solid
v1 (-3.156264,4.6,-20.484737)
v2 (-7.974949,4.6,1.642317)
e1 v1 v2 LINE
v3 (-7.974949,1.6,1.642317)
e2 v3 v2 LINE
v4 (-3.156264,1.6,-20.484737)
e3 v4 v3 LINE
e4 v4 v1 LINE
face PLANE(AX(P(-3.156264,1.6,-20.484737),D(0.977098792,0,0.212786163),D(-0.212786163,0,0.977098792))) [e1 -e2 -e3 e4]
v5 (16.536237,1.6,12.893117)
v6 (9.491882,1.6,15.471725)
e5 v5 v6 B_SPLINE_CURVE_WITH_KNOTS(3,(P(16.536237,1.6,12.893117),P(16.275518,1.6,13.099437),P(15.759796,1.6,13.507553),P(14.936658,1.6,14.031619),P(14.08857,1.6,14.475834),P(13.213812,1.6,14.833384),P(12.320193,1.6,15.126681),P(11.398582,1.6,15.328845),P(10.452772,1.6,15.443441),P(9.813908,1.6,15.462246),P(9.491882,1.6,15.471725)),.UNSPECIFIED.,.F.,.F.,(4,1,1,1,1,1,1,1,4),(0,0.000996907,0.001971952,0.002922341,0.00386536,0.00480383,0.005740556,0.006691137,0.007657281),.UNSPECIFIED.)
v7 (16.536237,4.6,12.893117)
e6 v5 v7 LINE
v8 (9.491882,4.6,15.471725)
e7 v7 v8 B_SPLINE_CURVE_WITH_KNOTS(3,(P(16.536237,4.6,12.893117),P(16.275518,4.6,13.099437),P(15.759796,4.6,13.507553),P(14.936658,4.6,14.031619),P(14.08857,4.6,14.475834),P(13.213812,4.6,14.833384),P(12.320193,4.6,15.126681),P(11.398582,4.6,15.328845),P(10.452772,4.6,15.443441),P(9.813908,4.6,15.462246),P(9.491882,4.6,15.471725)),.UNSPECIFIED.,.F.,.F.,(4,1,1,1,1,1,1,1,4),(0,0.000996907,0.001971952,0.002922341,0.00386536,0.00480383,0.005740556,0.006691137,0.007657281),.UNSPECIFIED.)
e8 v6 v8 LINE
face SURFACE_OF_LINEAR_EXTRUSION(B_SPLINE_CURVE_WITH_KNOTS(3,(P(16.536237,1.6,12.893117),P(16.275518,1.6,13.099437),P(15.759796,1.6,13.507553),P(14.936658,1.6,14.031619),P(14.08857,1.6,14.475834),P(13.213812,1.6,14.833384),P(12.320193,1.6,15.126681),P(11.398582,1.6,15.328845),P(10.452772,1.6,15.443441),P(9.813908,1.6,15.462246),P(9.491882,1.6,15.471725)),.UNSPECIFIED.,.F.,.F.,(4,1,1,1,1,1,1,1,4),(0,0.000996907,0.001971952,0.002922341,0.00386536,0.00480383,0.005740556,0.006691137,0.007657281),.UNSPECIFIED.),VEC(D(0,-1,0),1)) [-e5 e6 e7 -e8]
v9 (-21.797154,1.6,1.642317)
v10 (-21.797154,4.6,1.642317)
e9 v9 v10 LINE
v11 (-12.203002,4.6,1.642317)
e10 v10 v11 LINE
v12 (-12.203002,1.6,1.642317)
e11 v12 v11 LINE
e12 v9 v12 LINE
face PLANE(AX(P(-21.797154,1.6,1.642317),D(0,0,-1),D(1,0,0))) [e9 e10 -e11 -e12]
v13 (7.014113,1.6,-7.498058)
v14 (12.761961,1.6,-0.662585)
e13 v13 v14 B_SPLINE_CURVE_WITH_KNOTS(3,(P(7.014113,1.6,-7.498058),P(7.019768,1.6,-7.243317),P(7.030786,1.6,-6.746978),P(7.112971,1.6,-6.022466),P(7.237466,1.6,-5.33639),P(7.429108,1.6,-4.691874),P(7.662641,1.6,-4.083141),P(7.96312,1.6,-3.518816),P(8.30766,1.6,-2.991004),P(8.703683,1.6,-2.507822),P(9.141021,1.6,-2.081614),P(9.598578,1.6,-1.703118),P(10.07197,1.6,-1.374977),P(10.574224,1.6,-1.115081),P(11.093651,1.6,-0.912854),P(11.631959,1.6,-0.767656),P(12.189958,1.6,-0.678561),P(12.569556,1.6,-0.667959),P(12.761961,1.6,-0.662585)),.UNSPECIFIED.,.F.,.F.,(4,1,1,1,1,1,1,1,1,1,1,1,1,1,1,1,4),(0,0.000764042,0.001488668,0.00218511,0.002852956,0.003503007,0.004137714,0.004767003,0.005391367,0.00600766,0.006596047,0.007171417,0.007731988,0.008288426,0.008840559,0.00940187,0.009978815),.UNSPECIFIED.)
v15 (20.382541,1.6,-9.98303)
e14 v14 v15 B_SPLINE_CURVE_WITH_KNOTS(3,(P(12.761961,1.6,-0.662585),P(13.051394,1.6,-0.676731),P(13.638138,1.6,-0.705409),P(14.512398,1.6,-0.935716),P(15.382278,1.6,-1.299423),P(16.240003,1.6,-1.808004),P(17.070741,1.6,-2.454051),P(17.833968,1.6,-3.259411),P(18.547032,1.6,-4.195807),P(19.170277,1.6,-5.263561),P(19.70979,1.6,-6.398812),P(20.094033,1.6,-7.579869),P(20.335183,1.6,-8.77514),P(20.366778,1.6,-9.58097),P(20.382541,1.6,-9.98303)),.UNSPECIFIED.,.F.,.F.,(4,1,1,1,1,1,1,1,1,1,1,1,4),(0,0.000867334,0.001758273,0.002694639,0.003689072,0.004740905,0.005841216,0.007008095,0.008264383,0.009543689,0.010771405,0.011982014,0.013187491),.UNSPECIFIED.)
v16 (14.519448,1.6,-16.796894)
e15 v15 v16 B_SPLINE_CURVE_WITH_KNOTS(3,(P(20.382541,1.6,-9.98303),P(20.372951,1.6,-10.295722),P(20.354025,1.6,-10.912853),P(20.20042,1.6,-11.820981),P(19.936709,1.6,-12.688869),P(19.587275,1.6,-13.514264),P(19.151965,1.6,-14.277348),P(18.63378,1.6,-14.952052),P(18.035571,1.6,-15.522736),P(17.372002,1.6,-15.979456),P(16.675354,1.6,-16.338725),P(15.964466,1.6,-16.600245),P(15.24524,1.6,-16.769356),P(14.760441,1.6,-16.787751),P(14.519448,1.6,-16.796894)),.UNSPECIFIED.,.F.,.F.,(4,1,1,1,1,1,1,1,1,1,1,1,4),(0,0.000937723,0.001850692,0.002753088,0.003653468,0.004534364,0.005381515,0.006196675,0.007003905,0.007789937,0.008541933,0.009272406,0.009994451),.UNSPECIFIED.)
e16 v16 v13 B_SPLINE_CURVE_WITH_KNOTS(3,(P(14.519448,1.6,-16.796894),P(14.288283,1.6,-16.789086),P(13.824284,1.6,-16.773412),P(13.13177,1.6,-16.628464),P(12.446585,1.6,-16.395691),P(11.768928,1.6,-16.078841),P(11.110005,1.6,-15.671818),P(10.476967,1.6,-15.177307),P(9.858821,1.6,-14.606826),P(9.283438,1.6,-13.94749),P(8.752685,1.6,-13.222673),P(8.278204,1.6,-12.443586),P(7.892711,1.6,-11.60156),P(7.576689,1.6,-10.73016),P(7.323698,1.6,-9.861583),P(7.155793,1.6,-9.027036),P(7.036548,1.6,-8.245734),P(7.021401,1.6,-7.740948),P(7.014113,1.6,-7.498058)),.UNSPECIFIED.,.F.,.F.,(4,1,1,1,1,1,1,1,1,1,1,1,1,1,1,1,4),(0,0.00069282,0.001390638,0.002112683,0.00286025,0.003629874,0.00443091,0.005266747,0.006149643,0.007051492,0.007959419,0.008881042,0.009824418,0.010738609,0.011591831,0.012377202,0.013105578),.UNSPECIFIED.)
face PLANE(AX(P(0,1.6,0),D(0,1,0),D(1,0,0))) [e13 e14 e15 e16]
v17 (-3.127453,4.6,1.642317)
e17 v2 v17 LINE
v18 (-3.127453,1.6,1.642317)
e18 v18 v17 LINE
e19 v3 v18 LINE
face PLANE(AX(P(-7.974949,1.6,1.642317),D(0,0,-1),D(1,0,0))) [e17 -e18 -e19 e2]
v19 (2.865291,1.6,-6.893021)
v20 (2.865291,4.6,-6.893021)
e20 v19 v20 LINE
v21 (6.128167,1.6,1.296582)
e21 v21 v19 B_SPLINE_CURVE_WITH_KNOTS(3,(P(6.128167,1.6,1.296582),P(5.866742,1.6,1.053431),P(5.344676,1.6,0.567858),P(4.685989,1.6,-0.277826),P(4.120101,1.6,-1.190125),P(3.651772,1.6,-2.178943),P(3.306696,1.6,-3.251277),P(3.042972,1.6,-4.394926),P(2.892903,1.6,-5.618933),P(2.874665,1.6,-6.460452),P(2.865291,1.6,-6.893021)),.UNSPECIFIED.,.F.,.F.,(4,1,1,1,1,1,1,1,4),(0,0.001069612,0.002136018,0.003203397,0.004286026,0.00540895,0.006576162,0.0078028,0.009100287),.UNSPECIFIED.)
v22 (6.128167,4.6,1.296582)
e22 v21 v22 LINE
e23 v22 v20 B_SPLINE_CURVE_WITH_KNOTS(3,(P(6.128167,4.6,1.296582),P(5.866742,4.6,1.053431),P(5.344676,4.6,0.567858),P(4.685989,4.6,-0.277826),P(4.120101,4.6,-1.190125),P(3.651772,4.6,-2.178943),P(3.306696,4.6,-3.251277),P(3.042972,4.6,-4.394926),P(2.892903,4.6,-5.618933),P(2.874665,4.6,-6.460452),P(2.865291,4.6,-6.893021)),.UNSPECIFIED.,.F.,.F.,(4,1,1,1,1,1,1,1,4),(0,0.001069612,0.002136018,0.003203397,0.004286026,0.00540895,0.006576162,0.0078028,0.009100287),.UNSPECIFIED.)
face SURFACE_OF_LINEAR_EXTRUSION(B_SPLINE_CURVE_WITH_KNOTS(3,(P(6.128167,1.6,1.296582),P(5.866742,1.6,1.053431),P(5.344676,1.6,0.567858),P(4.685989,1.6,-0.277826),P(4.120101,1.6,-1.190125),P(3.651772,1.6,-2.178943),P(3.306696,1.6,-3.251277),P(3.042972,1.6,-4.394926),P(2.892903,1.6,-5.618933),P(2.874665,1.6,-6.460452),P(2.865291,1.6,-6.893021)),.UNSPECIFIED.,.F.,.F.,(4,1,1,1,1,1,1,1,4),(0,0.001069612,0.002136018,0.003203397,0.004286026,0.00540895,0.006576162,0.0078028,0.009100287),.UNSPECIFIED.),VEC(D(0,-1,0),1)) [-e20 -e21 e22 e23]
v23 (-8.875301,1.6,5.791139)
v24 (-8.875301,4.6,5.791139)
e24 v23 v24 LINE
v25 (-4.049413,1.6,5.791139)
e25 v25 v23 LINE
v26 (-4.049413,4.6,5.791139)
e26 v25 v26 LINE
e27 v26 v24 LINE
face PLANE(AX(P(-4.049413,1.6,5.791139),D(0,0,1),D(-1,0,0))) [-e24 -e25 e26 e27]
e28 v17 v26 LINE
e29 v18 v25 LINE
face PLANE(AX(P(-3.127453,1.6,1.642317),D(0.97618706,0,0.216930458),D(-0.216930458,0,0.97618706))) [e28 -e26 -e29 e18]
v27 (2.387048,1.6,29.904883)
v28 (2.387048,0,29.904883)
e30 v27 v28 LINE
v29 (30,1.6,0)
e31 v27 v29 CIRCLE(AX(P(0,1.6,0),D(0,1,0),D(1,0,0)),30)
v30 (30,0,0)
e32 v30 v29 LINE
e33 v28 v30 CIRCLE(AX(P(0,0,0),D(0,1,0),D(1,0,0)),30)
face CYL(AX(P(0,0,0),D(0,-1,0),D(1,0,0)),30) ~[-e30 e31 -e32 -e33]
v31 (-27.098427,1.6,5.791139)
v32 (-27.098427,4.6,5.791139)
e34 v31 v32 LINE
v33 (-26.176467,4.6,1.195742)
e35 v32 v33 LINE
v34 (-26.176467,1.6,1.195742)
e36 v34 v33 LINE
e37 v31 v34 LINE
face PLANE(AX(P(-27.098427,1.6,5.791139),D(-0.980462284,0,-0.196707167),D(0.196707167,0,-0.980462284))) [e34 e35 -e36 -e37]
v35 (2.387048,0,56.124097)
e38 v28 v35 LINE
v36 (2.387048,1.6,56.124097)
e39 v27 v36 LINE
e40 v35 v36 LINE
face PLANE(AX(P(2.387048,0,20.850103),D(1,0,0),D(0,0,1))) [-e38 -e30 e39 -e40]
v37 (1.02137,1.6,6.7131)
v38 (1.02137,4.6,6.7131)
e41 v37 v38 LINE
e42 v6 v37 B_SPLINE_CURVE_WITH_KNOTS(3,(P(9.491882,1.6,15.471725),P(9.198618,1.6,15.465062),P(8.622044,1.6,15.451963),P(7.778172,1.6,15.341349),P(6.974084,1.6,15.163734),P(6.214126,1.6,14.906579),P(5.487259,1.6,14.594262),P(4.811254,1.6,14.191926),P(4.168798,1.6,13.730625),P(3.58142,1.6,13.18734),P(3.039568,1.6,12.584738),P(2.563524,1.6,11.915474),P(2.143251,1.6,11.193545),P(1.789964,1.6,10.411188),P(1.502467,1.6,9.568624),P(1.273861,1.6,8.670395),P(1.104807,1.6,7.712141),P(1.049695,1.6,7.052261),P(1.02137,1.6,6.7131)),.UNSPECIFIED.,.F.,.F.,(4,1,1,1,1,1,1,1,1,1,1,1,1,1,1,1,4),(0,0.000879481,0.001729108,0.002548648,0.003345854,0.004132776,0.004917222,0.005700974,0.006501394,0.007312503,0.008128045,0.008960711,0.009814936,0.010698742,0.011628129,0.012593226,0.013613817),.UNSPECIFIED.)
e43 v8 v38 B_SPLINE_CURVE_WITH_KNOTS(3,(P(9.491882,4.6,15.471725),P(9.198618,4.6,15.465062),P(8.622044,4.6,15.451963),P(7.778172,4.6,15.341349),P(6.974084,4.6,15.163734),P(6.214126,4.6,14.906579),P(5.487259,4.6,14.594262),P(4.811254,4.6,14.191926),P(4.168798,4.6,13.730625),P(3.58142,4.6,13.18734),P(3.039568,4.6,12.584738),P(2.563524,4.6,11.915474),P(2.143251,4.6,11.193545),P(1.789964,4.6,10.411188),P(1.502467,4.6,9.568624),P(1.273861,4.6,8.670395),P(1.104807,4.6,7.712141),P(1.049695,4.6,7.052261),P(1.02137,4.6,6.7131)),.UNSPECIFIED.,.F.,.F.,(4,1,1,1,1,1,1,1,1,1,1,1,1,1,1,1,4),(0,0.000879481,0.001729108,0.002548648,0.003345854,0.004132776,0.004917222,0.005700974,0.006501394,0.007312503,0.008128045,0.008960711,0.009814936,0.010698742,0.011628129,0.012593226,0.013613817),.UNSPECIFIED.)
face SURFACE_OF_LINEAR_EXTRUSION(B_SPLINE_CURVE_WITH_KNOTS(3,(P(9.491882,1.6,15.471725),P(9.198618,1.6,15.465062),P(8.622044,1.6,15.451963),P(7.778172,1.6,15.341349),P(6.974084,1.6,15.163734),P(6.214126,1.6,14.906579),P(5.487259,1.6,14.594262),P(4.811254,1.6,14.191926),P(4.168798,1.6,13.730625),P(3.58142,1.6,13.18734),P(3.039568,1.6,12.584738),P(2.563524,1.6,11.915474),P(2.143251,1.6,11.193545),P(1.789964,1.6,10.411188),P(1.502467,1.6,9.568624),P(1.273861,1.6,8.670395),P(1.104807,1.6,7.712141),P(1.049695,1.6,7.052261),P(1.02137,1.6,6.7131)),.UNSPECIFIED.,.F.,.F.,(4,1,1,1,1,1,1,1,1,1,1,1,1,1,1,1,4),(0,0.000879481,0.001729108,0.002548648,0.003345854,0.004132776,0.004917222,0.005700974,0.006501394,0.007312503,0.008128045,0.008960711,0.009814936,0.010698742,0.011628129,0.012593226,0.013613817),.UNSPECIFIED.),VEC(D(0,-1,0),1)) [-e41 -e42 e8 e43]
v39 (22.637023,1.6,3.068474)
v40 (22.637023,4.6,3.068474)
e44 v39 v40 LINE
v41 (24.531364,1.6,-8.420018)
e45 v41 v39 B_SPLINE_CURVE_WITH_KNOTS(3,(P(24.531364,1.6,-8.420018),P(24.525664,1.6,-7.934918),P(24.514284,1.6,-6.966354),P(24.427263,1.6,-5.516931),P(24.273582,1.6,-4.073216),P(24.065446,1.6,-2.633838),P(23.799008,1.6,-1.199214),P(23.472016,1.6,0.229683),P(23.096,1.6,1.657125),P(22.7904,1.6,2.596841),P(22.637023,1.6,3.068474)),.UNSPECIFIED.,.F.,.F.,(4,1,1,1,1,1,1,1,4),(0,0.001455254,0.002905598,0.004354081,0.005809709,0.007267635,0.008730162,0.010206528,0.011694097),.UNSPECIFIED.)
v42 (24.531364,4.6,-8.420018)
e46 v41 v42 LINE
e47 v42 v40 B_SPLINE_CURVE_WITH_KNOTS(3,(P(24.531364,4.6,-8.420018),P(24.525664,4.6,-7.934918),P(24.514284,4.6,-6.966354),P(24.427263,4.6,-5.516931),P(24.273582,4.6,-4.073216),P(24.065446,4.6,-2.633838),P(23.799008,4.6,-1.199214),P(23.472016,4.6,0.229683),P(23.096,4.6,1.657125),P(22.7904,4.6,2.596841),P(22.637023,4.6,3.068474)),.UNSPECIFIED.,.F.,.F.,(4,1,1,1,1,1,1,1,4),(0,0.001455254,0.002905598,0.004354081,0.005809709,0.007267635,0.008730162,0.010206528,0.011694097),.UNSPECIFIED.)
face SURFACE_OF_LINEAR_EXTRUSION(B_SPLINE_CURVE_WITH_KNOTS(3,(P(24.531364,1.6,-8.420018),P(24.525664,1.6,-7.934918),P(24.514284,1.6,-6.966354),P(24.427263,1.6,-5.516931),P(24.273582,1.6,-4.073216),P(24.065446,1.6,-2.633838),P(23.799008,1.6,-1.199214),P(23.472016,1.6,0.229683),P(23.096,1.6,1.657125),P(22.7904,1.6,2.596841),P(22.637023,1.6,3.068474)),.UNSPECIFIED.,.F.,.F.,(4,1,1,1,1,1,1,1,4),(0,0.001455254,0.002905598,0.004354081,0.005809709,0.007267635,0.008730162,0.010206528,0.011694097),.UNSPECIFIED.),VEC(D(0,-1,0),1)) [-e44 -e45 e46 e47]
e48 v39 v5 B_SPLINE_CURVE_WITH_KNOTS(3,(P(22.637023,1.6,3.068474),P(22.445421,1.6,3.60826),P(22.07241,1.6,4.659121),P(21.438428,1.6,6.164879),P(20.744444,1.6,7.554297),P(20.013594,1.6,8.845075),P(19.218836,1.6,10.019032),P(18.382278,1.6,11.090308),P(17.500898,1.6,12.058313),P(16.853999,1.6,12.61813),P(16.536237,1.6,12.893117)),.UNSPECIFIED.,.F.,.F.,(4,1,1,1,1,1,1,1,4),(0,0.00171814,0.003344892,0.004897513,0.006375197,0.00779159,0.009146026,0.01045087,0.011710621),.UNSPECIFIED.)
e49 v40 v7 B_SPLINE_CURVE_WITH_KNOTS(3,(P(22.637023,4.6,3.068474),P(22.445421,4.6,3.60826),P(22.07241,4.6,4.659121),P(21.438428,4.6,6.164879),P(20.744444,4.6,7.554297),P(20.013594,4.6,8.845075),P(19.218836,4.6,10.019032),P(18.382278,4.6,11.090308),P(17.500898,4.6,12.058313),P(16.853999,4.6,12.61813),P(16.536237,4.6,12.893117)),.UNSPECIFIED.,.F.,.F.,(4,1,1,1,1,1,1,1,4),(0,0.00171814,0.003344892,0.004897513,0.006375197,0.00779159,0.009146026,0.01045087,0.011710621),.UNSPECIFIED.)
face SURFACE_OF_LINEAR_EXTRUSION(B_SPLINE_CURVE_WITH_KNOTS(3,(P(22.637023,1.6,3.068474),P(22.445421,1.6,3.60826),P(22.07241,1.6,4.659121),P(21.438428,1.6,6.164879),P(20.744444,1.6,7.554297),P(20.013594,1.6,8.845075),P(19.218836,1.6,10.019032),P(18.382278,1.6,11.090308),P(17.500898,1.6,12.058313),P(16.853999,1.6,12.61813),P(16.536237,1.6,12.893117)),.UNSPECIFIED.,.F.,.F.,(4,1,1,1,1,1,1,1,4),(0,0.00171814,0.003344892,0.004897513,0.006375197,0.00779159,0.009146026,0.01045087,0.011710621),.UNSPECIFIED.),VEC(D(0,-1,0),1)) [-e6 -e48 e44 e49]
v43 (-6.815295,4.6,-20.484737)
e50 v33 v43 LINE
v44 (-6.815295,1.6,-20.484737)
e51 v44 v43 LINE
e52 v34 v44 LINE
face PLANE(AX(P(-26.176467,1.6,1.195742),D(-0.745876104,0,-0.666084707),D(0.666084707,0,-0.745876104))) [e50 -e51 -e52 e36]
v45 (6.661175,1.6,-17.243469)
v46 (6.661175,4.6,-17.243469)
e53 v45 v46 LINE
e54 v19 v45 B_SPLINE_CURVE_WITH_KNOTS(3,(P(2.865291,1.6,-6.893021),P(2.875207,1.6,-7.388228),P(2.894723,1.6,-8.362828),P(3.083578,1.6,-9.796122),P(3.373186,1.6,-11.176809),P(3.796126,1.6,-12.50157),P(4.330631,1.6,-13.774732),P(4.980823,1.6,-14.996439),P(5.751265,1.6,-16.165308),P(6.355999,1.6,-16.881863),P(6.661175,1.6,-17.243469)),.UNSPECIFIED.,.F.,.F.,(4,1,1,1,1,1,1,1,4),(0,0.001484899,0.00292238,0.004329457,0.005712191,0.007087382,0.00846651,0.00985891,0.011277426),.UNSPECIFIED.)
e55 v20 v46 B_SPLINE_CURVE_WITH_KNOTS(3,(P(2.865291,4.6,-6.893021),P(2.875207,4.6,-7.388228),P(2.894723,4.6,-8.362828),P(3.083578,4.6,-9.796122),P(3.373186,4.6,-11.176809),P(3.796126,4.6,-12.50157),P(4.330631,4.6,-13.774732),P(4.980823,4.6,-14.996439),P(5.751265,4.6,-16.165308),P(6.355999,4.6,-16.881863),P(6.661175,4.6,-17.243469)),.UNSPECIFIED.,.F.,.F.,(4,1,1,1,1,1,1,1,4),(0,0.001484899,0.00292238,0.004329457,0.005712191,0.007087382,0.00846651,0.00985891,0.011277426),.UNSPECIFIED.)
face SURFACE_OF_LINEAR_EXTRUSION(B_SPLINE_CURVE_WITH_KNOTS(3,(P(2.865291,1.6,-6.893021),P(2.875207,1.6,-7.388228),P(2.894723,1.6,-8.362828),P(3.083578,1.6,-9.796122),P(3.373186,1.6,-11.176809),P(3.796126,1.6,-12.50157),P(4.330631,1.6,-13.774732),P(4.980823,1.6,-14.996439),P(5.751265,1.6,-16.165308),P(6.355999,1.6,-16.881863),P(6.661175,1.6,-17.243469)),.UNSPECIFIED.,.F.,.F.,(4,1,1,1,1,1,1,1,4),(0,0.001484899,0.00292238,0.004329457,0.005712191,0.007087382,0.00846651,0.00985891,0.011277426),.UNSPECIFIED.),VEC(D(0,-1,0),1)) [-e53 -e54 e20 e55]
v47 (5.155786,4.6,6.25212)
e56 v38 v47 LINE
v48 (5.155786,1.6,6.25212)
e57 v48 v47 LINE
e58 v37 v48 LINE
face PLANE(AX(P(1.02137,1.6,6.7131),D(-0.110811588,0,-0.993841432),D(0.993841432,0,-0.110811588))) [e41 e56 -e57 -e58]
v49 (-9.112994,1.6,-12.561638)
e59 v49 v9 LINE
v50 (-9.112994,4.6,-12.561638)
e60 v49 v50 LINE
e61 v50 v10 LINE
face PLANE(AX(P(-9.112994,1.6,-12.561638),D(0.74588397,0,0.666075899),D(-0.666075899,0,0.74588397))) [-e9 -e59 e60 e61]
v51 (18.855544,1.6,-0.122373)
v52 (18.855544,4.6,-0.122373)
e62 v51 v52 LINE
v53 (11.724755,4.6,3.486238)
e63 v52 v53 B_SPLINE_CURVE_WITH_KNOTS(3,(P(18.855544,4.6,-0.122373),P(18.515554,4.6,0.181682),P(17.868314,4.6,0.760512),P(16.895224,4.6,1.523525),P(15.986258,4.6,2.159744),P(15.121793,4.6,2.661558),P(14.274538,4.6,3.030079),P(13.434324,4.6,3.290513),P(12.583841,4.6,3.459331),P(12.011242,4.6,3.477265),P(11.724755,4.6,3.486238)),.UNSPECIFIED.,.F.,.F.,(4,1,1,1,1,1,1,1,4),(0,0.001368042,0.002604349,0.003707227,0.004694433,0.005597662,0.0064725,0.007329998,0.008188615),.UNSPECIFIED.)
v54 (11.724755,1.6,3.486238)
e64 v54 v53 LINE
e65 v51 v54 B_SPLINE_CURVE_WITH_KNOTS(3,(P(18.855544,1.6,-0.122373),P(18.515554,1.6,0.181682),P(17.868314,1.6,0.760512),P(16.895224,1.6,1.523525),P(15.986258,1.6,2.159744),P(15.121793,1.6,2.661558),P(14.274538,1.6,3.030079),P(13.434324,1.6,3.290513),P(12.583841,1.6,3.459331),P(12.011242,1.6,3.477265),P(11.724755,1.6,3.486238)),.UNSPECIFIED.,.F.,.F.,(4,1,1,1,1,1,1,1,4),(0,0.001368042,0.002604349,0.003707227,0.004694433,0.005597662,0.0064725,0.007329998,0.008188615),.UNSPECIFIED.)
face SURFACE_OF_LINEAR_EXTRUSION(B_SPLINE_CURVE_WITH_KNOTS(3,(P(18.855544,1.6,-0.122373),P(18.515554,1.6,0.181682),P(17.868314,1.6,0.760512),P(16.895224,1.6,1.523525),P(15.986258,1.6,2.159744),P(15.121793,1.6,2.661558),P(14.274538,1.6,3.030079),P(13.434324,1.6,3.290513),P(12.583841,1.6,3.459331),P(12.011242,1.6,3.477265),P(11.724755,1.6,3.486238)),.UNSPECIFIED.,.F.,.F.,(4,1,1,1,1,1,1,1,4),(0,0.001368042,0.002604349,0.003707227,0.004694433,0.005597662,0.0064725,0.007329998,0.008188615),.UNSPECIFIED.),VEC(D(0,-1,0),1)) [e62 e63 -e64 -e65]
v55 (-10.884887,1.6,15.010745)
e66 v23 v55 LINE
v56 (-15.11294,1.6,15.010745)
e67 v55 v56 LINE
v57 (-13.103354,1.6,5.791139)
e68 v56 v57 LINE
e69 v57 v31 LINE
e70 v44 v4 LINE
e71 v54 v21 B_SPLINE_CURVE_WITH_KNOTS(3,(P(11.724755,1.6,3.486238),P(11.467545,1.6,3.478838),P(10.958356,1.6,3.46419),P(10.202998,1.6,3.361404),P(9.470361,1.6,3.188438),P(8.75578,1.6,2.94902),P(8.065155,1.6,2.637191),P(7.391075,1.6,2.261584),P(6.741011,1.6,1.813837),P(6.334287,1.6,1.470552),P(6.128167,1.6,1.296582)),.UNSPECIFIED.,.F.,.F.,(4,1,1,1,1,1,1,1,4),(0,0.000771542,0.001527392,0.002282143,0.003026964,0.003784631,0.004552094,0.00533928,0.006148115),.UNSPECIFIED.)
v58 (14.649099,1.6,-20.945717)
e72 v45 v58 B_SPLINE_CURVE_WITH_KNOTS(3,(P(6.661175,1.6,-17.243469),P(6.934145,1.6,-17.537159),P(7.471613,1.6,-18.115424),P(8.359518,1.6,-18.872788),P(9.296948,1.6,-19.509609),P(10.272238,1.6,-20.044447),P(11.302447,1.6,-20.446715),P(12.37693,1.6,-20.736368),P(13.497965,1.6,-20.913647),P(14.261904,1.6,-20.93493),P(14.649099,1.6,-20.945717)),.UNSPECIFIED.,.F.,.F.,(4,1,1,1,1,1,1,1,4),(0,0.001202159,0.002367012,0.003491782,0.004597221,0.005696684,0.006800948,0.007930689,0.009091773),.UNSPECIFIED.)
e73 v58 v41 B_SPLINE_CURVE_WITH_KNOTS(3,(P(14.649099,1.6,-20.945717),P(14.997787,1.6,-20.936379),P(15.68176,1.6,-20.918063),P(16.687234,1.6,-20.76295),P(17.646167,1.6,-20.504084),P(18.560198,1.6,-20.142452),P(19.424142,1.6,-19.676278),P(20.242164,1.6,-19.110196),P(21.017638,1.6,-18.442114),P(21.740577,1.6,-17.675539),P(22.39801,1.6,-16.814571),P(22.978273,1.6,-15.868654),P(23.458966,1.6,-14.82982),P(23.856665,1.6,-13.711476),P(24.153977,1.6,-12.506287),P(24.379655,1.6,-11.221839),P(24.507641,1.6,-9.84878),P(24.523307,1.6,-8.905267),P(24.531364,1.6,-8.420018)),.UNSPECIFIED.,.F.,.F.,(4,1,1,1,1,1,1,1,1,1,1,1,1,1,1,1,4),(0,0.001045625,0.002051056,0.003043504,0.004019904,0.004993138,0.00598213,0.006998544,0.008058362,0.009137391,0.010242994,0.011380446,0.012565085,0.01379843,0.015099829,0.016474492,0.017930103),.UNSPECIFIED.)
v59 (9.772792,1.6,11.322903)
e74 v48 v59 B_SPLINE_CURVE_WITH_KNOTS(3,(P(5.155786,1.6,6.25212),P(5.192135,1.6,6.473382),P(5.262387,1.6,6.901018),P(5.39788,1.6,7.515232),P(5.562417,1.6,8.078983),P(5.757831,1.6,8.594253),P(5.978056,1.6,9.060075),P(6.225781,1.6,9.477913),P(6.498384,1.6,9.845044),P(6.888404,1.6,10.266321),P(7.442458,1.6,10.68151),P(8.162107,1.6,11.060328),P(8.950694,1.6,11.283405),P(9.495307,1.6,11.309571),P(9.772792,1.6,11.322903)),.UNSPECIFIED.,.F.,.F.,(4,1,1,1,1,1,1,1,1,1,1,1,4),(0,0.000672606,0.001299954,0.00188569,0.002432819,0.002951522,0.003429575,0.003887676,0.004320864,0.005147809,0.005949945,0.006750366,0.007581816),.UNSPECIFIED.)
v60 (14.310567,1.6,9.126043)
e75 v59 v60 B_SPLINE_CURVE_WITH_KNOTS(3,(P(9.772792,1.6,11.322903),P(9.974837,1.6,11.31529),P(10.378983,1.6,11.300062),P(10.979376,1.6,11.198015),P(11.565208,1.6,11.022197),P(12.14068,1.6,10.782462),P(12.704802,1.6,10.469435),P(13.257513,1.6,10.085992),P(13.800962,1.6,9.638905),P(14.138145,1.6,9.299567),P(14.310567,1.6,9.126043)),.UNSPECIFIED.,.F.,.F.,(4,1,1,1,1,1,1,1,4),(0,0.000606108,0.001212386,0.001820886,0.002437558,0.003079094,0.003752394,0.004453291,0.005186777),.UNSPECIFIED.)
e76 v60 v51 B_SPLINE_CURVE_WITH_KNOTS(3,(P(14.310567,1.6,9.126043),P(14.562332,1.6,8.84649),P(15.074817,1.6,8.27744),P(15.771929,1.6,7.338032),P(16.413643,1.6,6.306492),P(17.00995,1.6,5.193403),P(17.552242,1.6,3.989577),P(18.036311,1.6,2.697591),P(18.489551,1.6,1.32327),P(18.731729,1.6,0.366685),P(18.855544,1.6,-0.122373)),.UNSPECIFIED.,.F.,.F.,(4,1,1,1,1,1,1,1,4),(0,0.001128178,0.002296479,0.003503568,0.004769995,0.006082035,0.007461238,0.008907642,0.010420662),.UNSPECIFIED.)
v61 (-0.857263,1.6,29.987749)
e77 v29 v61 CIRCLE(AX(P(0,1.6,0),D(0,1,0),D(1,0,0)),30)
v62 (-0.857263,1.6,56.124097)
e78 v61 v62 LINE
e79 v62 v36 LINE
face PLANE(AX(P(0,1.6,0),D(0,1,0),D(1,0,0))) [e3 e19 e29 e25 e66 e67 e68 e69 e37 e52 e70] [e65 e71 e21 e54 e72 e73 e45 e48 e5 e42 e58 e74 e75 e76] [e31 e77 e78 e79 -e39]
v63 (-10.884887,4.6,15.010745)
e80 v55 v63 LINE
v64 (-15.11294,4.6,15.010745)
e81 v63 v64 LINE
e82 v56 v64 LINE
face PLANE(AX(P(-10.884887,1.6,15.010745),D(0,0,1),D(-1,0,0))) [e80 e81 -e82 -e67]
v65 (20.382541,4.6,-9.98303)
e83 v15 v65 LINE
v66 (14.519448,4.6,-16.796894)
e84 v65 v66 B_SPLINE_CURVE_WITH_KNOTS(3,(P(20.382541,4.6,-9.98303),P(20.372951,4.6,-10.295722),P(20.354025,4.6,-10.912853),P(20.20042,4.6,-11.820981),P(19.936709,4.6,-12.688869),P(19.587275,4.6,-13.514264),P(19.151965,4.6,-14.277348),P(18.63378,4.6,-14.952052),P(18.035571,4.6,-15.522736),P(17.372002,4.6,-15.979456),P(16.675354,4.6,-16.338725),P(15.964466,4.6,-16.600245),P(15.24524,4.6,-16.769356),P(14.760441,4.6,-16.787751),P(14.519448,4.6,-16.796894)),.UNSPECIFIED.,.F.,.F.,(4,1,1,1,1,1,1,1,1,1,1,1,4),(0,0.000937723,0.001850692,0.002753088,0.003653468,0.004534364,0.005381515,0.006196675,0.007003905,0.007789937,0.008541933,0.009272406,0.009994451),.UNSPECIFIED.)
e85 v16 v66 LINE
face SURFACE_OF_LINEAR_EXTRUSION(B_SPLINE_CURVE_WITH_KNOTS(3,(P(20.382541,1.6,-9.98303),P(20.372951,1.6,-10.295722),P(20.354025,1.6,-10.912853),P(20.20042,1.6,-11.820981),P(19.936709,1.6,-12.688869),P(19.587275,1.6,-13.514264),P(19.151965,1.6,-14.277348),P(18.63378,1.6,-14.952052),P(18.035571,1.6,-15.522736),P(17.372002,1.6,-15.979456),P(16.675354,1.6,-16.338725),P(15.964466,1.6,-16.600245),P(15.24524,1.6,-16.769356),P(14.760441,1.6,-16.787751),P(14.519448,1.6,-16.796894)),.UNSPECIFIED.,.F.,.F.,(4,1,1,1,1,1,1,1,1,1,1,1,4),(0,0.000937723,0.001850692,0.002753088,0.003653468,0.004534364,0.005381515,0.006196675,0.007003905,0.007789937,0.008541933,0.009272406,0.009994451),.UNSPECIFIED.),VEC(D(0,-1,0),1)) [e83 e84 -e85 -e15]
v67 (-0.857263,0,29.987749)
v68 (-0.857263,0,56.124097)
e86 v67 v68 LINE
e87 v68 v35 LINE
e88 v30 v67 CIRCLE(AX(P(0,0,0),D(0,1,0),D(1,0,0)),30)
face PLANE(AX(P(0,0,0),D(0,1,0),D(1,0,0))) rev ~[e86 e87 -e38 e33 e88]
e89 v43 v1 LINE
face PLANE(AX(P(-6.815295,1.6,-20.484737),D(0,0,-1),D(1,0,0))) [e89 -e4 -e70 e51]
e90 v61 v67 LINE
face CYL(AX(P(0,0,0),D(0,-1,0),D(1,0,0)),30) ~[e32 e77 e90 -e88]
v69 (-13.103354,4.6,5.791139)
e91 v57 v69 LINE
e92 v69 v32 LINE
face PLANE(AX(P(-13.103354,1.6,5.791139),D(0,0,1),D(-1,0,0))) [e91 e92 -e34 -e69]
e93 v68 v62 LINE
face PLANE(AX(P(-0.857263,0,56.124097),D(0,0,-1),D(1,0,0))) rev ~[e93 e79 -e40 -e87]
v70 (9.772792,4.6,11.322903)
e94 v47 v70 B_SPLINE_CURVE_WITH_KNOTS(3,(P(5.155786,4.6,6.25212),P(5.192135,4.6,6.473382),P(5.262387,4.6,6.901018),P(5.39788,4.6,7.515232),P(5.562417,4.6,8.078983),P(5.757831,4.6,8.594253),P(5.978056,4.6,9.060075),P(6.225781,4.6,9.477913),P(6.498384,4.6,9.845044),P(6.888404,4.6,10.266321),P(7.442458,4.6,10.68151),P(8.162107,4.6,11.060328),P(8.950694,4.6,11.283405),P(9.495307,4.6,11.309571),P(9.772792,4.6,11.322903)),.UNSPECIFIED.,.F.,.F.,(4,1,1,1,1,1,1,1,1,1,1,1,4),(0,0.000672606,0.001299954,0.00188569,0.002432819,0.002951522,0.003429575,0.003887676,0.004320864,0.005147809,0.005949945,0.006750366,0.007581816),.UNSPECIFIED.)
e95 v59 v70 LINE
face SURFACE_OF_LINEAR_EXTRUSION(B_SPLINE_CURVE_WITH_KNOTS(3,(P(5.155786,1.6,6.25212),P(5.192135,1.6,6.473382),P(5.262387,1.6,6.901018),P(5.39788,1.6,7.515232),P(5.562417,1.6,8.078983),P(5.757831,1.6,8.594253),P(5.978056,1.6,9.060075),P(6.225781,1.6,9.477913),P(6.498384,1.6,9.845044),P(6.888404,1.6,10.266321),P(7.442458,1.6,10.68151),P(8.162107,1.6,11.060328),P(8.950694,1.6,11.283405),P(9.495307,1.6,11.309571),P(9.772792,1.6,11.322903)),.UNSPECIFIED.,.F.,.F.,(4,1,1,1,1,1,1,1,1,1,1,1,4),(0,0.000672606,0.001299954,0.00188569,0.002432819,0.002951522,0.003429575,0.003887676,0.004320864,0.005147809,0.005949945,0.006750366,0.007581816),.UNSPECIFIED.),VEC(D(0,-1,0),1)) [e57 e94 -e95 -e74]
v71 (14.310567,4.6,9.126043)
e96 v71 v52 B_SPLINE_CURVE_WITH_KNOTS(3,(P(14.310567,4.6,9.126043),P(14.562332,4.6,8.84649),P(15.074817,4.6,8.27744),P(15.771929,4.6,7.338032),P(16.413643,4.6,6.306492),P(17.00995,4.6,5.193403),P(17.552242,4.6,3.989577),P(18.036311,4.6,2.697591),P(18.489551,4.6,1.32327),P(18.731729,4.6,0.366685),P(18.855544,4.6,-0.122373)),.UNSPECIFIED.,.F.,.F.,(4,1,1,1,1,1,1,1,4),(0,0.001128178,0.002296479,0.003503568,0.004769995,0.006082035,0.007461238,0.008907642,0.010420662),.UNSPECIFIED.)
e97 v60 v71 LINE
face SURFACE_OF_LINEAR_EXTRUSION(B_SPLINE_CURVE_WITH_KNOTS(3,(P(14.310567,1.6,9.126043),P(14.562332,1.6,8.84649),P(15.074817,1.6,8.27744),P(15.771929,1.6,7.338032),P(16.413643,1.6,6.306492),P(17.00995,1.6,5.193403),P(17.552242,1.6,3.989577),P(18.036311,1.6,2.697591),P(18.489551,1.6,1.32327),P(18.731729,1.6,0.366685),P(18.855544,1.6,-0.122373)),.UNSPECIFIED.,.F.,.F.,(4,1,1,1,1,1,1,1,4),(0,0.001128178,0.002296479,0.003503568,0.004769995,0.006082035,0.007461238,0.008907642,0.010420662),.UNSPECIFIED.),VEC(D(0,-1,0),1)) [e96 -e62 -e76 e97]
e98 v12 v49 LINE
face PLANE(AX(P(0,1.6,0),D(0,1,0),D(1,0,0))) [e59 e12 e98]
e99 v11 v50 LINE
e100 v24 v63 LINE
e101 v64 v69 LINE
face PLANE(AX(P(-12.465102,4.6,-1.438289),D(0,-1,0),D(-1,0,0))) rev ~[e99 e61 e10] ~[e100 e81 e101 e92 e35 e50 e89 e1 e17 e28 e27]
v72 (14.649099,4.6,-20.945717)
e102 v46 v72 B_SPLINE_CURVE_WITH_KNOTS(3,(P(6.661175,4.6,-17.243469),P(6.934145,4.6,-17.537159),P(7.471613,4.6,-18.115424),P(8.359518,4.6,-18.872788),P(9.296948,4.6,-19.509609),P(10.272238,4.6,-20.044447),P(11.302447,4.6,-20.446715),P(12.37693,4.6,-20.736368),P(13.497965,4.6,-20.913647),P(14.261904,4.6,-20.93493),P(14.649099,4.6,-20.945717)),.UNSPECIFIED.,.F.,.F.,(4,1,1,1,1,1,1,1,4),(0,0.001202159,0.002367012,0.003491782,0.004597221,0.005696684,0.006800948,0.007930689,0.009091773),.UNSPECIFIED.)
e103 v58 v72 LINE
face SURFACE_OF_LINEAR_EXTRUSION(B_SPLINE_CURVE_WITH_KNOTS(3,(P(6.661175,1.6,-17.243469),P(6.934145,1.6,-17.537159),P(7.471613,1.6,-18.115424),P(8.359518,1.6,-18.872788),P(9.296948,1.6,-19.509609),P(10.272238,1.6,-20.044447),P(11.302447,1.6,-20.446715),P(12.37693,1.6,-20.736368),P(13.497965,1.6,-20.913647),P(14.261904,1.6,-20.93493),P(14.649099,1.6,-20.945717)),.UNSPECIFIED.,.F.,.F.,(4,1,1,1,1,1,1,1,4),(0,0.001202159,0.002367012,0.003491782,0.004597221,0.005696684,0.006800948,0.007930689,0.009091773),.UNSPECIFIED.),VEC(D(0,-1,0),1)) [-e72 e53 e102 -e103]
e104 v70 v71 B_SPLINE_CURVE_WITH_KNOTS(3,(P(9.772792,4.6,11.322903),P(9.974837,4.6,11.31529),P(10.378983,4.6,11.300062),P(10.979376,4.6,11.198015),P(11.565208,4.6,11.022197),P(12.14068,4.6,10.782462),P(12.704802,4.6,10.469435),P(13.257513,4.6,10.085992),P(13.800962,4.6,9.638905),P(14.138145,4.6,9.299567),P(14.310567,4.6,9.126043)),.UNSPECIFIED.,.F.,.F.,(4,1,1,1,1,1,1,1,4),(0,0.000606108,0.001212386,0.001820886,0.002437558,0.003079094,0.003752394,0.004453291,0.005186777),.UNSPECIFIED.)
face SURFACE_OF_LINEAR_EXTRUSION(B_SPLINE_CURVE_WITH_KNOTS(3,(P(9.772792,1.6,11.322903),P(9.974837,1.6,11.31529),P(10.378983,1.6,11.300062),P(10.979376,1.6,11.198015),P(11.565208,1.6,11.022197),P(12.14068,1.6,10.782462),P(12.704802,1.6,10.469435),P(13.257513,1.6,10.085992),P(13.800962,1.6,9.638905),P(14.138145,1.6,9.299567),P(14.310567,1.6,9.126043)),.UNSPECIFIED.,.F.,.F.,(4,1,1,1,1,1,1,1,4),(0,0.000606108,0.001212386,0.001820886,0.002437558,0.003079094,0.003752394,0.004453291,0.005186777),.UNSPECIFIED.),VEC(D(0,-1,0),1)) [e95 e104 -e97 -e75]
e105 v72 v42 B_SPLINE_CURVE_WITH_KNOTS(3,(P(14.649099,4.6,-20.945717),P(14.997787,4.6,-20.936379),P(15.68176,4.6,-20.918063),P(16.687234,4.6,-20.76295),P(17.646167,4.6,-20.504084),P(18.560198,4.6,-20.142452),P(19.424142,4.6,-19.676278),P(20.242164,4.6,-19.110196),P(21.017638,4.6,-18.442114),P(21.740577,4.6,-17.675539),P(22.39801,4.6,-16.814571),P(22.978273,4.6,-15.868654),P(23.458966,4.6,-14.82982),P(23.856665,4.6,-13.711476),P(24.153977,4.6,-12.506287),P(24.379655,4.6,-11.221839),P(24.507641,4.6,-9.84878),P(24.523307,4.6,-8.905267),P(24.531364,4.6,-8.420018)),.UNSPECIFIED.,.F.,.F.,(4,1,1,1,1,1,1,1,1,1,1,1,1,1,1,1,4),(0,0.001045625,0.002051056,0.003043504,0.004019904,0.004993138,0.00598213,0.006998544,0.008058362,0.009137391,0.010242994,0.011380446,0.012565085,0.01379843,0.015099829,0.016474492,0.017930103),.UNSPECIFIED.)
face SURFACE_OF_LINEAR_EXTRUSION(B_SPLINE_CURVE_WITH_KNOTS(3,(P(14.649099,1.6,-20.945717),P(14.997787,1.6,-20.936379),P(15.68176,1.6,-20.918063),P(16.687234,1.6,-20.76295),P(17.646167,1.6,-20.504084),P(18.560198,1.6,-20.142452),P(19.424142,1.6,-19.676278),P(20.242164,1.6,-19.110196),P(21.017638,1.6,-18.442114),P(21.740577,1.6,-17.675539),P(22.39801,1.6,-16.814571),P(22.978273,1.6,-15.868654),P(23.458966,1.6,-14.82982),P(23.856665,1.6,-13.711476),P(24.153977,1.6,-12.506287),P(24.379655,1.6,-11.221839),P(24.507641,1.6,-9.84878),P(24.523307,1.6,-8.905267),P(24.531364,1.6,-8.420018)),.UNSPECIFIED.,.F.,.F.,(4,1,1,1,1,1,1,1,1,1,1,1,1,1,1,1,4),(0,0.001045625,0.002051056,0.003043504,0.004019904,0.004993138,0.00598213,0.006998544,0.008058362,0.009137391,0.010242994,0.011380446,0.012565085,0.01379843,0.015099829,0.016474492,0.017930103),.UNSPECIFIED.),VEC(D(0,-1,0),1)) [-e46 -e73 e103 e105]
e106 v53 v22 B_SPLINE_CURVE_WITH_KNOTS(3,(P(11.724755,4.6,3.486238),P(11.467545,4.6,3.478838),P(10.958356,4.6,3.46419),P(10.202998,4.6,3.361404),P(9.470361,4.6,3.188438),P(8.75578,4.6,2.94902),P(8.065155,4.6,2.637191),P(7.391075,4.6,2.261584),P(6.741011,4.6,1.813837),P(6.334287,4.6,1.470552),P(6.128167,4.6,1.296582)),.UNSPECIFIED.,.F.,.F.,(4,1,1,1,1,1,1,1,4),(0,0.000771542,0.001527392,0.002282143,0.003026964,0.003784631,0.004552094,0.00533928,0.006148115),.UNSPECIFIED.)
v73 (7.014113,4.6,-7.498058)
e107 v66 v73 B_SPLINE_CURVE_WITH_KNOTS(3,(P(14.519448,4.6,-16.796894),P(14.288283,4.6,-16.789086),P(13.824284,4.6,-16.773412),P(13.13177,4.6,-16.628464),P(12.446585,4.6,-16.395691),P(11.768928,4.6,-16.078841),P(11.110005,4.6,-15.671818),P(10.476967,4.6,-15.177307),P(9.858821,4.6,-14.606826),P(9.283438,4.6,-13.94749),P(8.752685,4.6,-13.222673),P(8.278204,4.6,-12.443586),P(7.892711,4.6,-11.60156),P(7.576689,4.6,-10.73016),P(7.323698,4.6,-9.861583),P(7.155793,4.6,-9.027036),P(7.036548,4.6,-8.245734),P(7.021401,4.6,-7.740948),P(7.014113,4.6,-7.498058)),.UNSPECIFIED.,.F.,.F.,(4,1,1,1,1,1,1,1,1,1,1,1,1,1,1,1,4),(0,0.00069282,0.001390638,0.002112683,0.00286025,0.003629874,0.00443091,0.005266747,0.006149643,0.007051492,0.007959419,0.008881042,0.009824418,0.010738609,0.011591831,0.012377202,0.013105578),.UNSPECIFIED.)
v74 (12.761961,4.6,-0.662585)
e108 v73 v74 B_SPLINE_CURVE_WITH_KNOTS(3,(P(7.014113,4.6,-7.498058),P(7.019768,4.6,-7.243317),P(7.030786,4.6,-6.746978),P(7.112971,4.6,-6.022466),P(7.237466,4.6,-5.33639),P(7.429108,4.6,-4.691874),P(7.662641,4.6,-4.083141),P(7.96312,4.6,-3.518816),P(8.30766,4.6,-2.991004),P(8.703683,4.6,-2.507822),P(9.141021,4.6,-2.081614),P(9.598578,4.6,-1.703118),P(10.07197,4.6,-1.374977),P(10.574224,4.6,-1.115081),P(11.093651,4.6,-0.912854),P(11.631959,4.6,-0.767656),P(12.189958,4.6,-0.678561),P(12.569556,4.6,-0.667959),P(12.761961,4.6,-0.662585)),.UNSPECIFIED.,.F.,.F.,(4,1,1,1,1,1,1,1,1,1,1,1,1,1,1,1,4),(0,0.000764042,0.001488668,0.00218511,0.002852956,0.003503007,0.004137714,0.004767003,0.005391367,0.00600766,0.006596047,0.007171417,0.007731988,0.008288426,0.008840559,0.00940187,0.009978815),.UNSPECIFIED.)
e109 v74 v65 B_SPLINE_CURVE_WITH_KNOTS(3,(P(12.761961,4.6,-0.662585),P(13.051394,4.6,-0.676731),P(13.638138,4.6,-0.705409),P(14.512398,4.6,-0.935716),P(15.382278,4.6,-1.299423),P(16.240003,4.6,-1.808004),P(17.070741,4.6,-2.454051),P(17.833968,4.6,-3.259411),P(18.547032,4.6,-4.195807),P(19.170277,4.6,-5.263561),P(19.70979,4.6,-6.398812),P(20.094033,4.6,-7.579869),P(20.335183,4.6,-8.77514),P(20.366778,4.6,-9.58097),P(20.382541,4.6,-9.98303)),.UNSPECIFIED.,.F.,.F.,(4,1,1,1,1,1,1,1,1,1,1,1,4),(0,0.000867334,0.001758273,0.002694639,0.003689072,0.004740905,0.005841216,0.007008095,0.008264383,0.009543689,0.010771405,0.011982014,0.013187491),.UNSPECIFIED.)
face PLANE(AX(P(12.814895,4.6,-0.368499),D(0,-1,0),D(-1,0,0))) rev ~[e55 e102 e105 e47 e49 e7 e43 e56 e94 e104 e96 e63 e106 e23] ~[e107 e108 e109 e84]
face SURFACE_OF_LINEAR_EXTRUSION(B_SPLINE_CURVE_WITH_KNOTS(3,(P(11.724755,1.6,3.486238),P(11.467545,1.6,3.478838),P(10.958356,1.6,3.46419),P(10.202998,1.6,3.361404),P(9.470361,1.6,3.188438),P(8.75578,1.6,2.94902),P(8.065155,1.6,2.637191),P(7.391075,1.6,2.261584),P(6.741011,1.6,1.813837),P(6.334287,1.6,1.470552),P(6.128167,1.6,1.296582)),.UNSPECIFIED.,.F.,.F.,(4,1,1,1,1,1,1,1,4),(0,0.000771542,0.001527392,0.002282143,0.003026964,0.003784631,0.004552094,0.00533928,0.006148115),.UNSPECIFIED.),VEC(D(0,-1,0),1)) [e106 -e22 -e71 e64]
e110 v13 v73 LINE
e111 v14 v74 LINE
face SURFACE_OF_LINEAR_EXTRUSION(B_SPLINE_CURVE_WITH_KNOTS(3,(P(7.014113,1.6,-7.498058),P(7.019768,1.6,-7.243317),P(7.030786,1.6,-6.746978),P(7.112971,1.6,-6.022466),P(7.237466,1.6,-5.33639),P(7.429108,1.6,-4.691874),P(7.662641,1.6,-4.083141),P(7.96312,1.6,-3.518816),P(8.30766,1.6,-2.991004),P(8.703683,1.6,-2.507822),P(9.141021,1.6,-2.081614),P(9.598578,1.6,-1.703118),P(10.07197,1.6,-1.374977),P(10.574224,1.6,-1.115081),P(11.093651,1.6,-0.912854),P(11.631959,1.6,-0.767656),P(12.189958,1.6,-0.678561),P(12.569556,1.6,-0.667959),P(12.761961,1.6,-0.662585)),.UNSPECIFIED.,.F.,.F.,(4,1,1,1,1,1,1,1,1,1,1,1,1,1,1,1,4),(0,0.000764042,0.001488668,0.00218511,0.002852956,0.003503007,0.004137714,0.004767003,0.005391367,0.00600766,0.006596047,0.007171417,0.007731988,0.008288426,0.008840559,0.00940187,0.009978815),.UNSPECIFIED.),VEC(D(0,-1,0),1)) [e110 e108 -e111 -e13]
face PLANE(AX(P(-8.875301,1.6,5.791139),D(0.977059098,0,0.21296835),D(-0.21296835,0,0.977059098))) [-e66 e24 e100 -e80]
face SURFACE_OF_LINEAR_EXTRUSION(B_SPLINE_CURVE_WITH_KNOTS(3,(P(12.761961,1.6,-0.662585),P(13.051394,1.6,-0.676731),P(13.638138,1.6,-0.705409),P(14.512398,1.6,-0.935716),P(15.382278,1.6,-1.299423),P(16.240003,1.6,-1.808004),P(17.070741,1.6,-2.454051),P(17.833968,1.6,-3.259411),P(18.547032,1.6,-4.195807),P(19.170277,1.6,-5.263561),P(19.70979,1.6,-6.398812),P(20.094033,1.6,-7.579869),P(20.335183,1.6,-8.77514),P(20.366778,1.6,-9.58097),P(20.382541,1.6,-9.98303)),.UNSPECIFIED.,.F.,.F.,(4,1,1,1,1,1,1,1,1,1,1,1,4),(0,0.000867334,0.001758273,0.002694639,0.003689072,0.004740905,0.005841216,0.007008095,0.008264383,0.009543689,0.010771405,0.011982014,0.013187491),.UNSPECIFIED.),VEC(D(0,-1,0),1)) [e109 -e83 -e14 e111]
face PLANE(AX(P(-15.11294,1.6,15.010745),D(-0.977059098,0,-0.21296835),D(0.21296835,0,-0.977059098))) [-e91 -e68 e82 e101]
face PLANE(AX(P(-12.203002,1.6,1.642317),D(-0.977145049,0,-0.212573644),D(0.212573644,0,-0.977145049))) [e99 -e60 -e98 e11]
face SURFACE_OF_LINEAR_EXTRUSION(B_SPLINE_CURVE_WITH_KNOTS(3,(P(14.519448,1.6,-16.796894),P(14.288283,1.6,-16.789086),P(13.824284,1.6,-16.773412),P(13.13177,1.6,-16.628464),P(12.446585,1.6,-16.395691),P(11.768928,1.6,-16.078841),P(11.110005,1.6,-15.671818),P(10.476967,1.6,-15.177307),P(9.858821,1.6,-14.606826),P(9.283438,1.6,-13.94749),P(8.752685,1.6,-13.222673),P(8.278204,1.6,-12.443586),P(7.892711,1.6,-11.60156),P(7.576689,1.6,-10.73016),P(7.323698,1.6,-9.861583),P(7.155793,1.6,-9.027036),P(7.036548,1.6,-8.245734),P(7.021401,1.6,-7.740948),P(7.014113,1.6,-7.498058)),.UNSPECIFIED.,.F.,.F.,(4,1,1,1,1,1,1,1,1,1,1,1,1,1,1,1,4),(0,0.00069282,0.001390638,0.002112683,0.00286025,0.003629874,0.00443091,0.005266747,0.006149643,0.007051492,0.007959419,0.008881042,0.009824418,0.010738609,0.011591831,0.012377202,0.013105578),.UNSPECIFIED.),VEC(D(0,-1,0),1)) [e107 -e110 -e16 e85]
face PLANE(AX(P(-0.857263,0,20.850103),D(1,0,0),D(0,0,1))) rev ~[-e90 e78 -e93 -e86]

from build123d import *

# Parameters (mm, degrees)
SKETCH_1_R      = 30
EXTRUDE_1_DEPTH = 1.6
EXTRUDE_2_DEPTH = 3
SKETCH_3_W      = 3.244311069
SKETCH_3_H      = 35.273993815
EXTRUDE_5_DEPTH = 1.6


with BuildPart() as part:
    # Эскиз1 → Бобышка-Вытянуть1 (new body)
    with BuildSketch(Plane(origin=(0, 0, 0), x_dir=(1, 0, 0), z_dir=(0, 1, 0))):
        Circle(SKETCH_1_R)
    extrude(amount=EXTRUDE_1_DEPTH)

    # Эскиз2 → Бобышка-Вытянуть2 (add)
    with BuildSketch(Plane(origin=(0, 1.6, 0), x_dir=(1, 0, 0), z_dir=(0, 1, 0))):
        Polygon((-15.112940101, -15.010744766), (-13.103354207, -5.79113923), (-27.098427297, -5.79113923), (-26.176466744, -1.195742096), (-6.815295119, 20.484736546), (-3.156264172, 20.484736546), (-7.974948628, -1.642316739), (-3.127452905, -1.642316739), (-4.049413459, -5.79113923), (-8.875300731, -5.79113923), (-10.884886625, -15.010744766), align=None)
        Polygon((-12.203002104, -1.642316739), (-9.112993686, 12.561638039), (-21.797154114, -1.642316739), align=None, mode=Mode.SUBTRACT)
        with BuildLine():
            Line((1.021369586, -6.713099784), (5.155786443, -6.252119507))
            add(Edge.make_bspline(
                [(5.155786443, -6.252119507), (5.192135281, -6.473381577), (5.262387165, -6.901017726), (5.397879979, -7.515231953), (5.562416953, -8.078982569), (5.75783084, -8.594252788), (5.978056496, -9.060074627), (6.225780557, -9.477912909), (6.498384414, -9.845044122), (6.888403904, -10.266320667), (7.442457962, -10.681510063), (8.162107094, -11.060328313), (8.950693699, -11.283404951), (9.495307412, -11.309570842), (9.772792028, -11.322902552)],
                knots=[0, 0, 0, 0, 0.000672606, 0.001299954, 0.00188569, 0.002432819, 0.002951522, 0.003429575, 0.003887676, 0.004320864, 0.005147809, 0.005949945, 0.006750366, 0.007581816, 0.007581816, 0.007581816, 0.007581816], degree=3))
            add(Edge.make_bspline(
                [(9.772792028, -11.322902552), (9.974836791, -11.315289739), (10.378983376, -11.300061965), (10.979375815, -11.198014835), (11.565207937, -11.022197171), (12.140680484, -10.782461737), (12.704801504, -10.469434648), (13.257512824, -10.085992109), (13.800962323, -9.638904949), (14.138144983, -9.299567127), (14.310566627, -9.12604342)],
                knots=[0, 0, 0, 0, 0.000606108, 0.001212386, 0.001820886, 0.002437558, 0.003079094, 0.003752394, 0.004453291, 0.005186777, 0.005186777, 0.005186777, 0.005186777], degree=3))
            add(Edge.make_bspline(
                [(14.310566627, -9.12604342), (14.562332157, -8.846489735), (15.074816945, -8.277440386), (15.771928843, -7.338032377), (16.413643396, -6.306492), (17.009949904, -5.193403292), (17.552241758, -3.989577112), (18.036311249, -2.697590667), (18.489551109, -1.323270245), (18.731729262, -0.366685376), (18.855544044, 0.122373383)],
                knots=[0, 0, 0, 0, 0.001128178, 0.002296479, 0.003503568, 0.004769995, 0.006082035, 0.007461238, 0.008907642, 0.010420662, 0.010420662, 0.010420662, 0.010420662], degree=3))
            add(Edge.make_bspline(
                [(18.855544044, 0.122373383), (18.515554142, -0.181681505), (17.868313732, -0.760512257), (16.895223997, -1.523524974), (15.986257834, -2.159743633), (15.121792782, -2.661558355), (14.274538335, -3.030078632), (13.434324295, -3.290513005), (12.583841099, -3.459331039), (12.011241698, -3.477265014), (11.724755387, -3.486237846)],
                knots=[0, 0, 0, 0, 0.001368042, 0.002604349, 0.003707227, 0.004694433, 0.005597662, 0.0064725, 0.007329998, 0.008188615, 0.008188615, 0.008188615, 0.008188615], degree=3))
            add(Edge.make_bspline(
                [(11.724755387, -3.486237846), (11.467545037, -3.478838371), (10.95835582, -3.464189922), (10.202997804, -3.361403617), (9.470361257, -3.188438097), (8.755779823, -2.949020303), (8.065155466, -2.63719131), (7.391074846, -2.26158419), (6.74101139, -1.813836573), (6.334287268, -1.470552033), (6.128166715, -1.296581532)],
                knots=[0, 0, 0, 0, 0.000771542, 0.001527392, 0.002282143, 0.003026964, 0.003784631, 0.004552094, 0.00533928, 0.006148115, 0.006148115, 0.006148115, 0.006148115], degree=3))
            add(Edge.make_bspline(
                [(6.128166715, -1.296581532), (5.866741871, -1.053430833), (5.344675784, -0.567858261), (4.68598861, 0.277826316), (4.120100969, 1.190125333), (3.651772278, 2.178943205), (3.306695947, 3.251277107), (3.042972026, 4.394926248), (2.892902816, 5.618933407), (2.874665369, 6.460451788), (2.865290693, 6.893021198)],
                knots=[0, 0, 0, 0, 0.001069612, 0.002136018, 0.003203397, 0.004286026, 0.00540895, 0.006576162, 0.0078028, 0.009100287, 0.009100287, 0.009100287, 0.009100287], degree=3))
            add(Edge.make_bspline(
                [(2.865290693, 6.893021198), (2.875207181, 7.388228075), (2.89472349, 8.362828189), (3.083578082, 9.796121672), (3.373185787, 11.176809481), (3.796125522, 12.501570161), (4.330630954, 13.774732447), (4.980823191, 14.99643932), (5.751264631, 16.165307898), (6.355998775, 16.881862763), (6.66117516, 17.243468975)],
                knots=[0, 0, 0, 0, 0.001484899, 0.00292238, 0.004329457, 0.005712191, 0.007087382, 0.00846651, 0.00985891, 0.011277426, 0.011277426, 0.011277426, 0.011277426], degree=3))
            add(Edge.make_bspline(
                [(6.66117516, 17.243468975), (6.934144804, 17.537158668), (7.47161345, 18.115424437), (8.359517632, 18.87278791), (9.296948211, 19.509609385), (10.272237605, 20.044447486), (11.302446737, 20.446715103), (12.37692951, 20.736367773), (13.497965187, 20.913646613), (14.261903613, 20.934929686), (14.649099018, 20.945716823)],
                knots=[0, 0, 0, 0, 0.001202159, 0.002367012, 0.003491782, 0.004597221, 0.005696684, 0.006800948, 0.007930689, 0.009091773, 0.009091773, 0.009091773, 0.009091773], degree=3))
            add(Edge.make_bspline(
                [(14.649099018, 20.945716823), (14.997787132, 20.936379292), (15.681760043, 20.918063159), (16.687233548, 20.762950374), (17.64616698, 20.504084004), (18.560197693, 20.142451509), (19.424142306, 19.676277717), (20.242163935, 19.110195911), (21.017638488, 18.442114073), (21.740577275, 17.67553899), (22.398010202, 16.814571371), (22.978272504, 15.868653702), (23.458966364, 14.829820422), (23.856664916, 13.711476165), (24.153976582, 12.506286792), (24.379655281, 11.221838923), (24.507641015, 9.848780448), (24.523306789, 8.905267443), (24.531363702, 8.420018365)],
                knots=[0, 0, 0, 0, 0.001045625, 0.002051056, 0.003043504, 0.004019904, 0.004993138, 0.00598213, 0.006998544, 0.008058362, 0.009137391, 0.010242994, 0.011380446, 0.012565085, 0.01379843, 0.015099829, 0.016474492, 0.017930103, 0.017930103, 0.017930103, 0.017930103], degree=3))
            add(Edge.make_bspline(
                [(24.531363702, 8.420018365), (24.525664072, 7.934918015), (24.514284046, 6.966354111), (24.427262909, 5.516930729), (24.273582197, 4.073215956), (24.065445524, 2.633838437), (23.799008275, 1.199214086), (23.472015699, -0.229682915), (23.095999668, -1.657124653), (22.790400156, -2.596840611), (22.637022877, -3.068474471)],
                knots=[0, 0, 0, 0, 0.001455254, 0.002905598, 0.004354081, 0.005809709, 0.007267635, 0.008730162, 0.010206528, 0.011694097, 0.011694097, 0.011694097, 0.011694097], degree=3))
            add(Edge.make_bspline(
                [(22.637022877, -3.068474471), (22.445421429, -3.608260191), (22.072409742, -4.659120639), (21.438427503, -6.164879435), (20.744443812, -7.554296537), (20.013593824, -8.845074722), (19.218836128, -10.01903208), (18.382278177, -11.090308185), (17.500898079, -12.058312556), (16.853999376, -12.618129566), (16.536237026, -12.893116619)],
                knots=[0, 0, 0, 0, 0.00171814, 0.003344892, 0.004897513, 0.006375197, 0.00779159, 0.009146026, 0.01045087, 0.011710621, 0.011710621, 0.011710621, 0.011710621], degree=3))
            add(Edge.make_bspline(
                [(16.536237026, -12.893116619), (16.275517551, -13.099437091), (15.75979639, -13.50755326), (14.936658101, -14.031619265), (14.08857004, -14.475834427), (13.213812191, -14.833383605), (12.320192974, -15.126680855), (11.398582261, -15.328844612), (10.452772335, -15.443440865), (9.813908073, -15.462246084), (9.491882172, -15.471725043)],
                knots=[0, 0, 0, 0, 0.000996907, 0.001971952, 0.002922341, 0.00386536, 0.00480383, 0.005740556, 0.006691137, 0.007657281, 0.007657281, 0.007657281, 0.007657281], degree=3))
            add(Edge.make_bspline(
                [(9.491882172, -15.471725043), (9.198617884, -15.465062279), (8.622044237, -15.451962922), (7.778171618, -15.341349076), (6.974083778, -15.163734203), (6.214126437, -14.906579258), (5.487258858, -14.594261932), (4.811253582, -14.191925812), (4.168798029, -13.730625352), (3.581420174, -13.187339966), (3.039567521, -12.584738429), (2.563524473, -11.915474189), (2.143250657, -11.193544766), (1.789964119, -10.411188257), (1.502466787, -9.568624311), (1.27386085, -8.670395225), (1.104806925, -7.712140535), (1.049695435, -7.052260618), (1.021369586, -6.713099784)],
                knots=[0, 0, 0, 0, 0.000879481, 0.001729108, 0.002548648, 0.003345854, 0.004132776, 0.004917222, 0.005700974, 0.006501394, 0.007312503, 0.008128045, 0.008960711, 0.009814936, 0.010698742, 0.011628129, 0.012593226, 0.013613817, 0.013613817, 0.013613817, 0.013613817], degree=3))
        make_face()
        with BuildLine():
            add(Edge.make_bspline(
                [(7.014113184, 7.498057811), (7.019768123, 7.243317269), (7.030786271, 6.746977844), (7.112971363, 6.022465552), (7.237466445, 5.336389944), (7.429107785, 4.691874289), (7.662640551, 4.083140966), (7.963120255, 3.518815935), (8.307660253, 2.991004091), (8.703683128, 2.507822029), (9.141020711, 2.081613788), (9.598578365, 1.703117561), (10.071970051, 1.374977493), (10.574224084, 1.115081458), (11.093650898, 0.91285426), (11.631959273, 0.767655698), (12.189958182, 0.678560926), (12.569555519, 0.667958611), (12.76196101, 0.662584645)],
                knots=[0, 0, 0, 0, 0.000764042, 0.001488668, 0.00218511, 0.002852956, 0.003503007, 0.004137714, 0.004767003, 0.005391367, 0.00600766, 0.006596047, 0.007171417, 0.007731988, 0.008288426, 0.008840559, 0.00940187, 0.009978815, 0.009978815, 0.009978815, 0.009978815], degree=3))
            add(Edge.make_bspline(
                [(12.76196101, 0.662584645), (13.05139438, 0.676731012), (13.638138298, 0.705408752), (14.512398022, 0.935715715), (15.382277568, 1.299423228), (16.240003107, 1.808003519), (17.070741272, 2.454050946), (17.83396819, 3.259410645), (18.547032162, 4.195807232), (19.170277098, 5.263560877), (19.709790373, 6.398811887), (20.094032745, 7.57986936), (20.33518312, 8.775140421), (20.366777551, 9.580970443), (20.382541211, 9.983029616)],
                knots=[0, 0, 0, 0, 0.000867334, 0.001758273, 0.002694639, 0.003689072, 0.004740905, 0.005841216, 0.007008095, 0.008264383, 0.009543689, 0.010771405, 0.011982014, 0.013187491, 0.013187491, 0.013187491, 0.013187491], degree=3))
            add(Edge.make_bspline(
                [(20.382541211, 9.983029616), (20.372951463, 10.295722068), (20.354025111, 10.912852788), (20.200419667, 11.820980608), (19.936709411, 12.688869248), (19.587274972, 13.514264205), (19.151964964, 14.277348135), (18.633780293, 14.952051568), (18.035571041, 15.522736313), (17.372002119, 15.97945588), (16.675354278, 16.338724835), (15.964465751, 16.60024492), (15.24524014, 16.769356322), (14.760441115, 16.787750578), (14.519448315, 16.796894332)],
                knots=[0, 0, 0, 0, 0.000937723, 0.001850692, 0.002753088, 0.003653468, 0.004534364, 0.005381515, 0.006196675, 0.007003905, 0.007789937, 0.008541933, 0.009272406, 0.009994451, 0.009994451, 0.009994451, 0.009994451], degree=3))
            add(Edge.make_bspline(
                [(14.519448315, 16.796894332), (14.288282748, 16.789085648), (13.824283604, 16.773411934), (13.13177034, 16.628464349), (12.446585191, 16.395690831), (11.768928129, 16.078840648), (11.110004943, 15.671818458), (10.476966926, 15.17730675), (9.858820739, 14.606825776), (9.28343841, 13.947489545), (8.752685138, 13.222672572), (8.278203551, 12.443585563), (7.892711178, 11.60155963), (7.576689262, 10.730159546), (7.323697649, 9.861582737), (7.155792922, 9.02703603), (7.036547924, 8.245734242), (7.02140133, 7.740947846), (7.014113184, 7.498057811)],
                knots=[0, 0, 0, 0, 0.00069282, 0.001390638, 0.002112683, 0.00286025, 0.003629874, 0.00443091, 0.005266747, 0.006149643, 0.007051492, 0.007959419, 0.008881042, 0.009824418, 0.010738609, 0.011591831, 0.012377202, 0.013105578, 0.013105578, 0.013105578, 0.013105578], degree=3))
        make_face(mode=Mode.SUBTRACT)
    extrude(amount=EXTRUDE_2_DEPTH)

    # Эскиз3 → Бобышка-Вытянуть5 (add)
    with BuildSketch(Plane.XZ):
        with Locations((0.764892295, 38.487099642)):
            Rectangle(SKETCH_3_W, SKETCH_3_H)
    extrude(amount=-EXTRUDE_5_DEPTH)


solid = part.part
